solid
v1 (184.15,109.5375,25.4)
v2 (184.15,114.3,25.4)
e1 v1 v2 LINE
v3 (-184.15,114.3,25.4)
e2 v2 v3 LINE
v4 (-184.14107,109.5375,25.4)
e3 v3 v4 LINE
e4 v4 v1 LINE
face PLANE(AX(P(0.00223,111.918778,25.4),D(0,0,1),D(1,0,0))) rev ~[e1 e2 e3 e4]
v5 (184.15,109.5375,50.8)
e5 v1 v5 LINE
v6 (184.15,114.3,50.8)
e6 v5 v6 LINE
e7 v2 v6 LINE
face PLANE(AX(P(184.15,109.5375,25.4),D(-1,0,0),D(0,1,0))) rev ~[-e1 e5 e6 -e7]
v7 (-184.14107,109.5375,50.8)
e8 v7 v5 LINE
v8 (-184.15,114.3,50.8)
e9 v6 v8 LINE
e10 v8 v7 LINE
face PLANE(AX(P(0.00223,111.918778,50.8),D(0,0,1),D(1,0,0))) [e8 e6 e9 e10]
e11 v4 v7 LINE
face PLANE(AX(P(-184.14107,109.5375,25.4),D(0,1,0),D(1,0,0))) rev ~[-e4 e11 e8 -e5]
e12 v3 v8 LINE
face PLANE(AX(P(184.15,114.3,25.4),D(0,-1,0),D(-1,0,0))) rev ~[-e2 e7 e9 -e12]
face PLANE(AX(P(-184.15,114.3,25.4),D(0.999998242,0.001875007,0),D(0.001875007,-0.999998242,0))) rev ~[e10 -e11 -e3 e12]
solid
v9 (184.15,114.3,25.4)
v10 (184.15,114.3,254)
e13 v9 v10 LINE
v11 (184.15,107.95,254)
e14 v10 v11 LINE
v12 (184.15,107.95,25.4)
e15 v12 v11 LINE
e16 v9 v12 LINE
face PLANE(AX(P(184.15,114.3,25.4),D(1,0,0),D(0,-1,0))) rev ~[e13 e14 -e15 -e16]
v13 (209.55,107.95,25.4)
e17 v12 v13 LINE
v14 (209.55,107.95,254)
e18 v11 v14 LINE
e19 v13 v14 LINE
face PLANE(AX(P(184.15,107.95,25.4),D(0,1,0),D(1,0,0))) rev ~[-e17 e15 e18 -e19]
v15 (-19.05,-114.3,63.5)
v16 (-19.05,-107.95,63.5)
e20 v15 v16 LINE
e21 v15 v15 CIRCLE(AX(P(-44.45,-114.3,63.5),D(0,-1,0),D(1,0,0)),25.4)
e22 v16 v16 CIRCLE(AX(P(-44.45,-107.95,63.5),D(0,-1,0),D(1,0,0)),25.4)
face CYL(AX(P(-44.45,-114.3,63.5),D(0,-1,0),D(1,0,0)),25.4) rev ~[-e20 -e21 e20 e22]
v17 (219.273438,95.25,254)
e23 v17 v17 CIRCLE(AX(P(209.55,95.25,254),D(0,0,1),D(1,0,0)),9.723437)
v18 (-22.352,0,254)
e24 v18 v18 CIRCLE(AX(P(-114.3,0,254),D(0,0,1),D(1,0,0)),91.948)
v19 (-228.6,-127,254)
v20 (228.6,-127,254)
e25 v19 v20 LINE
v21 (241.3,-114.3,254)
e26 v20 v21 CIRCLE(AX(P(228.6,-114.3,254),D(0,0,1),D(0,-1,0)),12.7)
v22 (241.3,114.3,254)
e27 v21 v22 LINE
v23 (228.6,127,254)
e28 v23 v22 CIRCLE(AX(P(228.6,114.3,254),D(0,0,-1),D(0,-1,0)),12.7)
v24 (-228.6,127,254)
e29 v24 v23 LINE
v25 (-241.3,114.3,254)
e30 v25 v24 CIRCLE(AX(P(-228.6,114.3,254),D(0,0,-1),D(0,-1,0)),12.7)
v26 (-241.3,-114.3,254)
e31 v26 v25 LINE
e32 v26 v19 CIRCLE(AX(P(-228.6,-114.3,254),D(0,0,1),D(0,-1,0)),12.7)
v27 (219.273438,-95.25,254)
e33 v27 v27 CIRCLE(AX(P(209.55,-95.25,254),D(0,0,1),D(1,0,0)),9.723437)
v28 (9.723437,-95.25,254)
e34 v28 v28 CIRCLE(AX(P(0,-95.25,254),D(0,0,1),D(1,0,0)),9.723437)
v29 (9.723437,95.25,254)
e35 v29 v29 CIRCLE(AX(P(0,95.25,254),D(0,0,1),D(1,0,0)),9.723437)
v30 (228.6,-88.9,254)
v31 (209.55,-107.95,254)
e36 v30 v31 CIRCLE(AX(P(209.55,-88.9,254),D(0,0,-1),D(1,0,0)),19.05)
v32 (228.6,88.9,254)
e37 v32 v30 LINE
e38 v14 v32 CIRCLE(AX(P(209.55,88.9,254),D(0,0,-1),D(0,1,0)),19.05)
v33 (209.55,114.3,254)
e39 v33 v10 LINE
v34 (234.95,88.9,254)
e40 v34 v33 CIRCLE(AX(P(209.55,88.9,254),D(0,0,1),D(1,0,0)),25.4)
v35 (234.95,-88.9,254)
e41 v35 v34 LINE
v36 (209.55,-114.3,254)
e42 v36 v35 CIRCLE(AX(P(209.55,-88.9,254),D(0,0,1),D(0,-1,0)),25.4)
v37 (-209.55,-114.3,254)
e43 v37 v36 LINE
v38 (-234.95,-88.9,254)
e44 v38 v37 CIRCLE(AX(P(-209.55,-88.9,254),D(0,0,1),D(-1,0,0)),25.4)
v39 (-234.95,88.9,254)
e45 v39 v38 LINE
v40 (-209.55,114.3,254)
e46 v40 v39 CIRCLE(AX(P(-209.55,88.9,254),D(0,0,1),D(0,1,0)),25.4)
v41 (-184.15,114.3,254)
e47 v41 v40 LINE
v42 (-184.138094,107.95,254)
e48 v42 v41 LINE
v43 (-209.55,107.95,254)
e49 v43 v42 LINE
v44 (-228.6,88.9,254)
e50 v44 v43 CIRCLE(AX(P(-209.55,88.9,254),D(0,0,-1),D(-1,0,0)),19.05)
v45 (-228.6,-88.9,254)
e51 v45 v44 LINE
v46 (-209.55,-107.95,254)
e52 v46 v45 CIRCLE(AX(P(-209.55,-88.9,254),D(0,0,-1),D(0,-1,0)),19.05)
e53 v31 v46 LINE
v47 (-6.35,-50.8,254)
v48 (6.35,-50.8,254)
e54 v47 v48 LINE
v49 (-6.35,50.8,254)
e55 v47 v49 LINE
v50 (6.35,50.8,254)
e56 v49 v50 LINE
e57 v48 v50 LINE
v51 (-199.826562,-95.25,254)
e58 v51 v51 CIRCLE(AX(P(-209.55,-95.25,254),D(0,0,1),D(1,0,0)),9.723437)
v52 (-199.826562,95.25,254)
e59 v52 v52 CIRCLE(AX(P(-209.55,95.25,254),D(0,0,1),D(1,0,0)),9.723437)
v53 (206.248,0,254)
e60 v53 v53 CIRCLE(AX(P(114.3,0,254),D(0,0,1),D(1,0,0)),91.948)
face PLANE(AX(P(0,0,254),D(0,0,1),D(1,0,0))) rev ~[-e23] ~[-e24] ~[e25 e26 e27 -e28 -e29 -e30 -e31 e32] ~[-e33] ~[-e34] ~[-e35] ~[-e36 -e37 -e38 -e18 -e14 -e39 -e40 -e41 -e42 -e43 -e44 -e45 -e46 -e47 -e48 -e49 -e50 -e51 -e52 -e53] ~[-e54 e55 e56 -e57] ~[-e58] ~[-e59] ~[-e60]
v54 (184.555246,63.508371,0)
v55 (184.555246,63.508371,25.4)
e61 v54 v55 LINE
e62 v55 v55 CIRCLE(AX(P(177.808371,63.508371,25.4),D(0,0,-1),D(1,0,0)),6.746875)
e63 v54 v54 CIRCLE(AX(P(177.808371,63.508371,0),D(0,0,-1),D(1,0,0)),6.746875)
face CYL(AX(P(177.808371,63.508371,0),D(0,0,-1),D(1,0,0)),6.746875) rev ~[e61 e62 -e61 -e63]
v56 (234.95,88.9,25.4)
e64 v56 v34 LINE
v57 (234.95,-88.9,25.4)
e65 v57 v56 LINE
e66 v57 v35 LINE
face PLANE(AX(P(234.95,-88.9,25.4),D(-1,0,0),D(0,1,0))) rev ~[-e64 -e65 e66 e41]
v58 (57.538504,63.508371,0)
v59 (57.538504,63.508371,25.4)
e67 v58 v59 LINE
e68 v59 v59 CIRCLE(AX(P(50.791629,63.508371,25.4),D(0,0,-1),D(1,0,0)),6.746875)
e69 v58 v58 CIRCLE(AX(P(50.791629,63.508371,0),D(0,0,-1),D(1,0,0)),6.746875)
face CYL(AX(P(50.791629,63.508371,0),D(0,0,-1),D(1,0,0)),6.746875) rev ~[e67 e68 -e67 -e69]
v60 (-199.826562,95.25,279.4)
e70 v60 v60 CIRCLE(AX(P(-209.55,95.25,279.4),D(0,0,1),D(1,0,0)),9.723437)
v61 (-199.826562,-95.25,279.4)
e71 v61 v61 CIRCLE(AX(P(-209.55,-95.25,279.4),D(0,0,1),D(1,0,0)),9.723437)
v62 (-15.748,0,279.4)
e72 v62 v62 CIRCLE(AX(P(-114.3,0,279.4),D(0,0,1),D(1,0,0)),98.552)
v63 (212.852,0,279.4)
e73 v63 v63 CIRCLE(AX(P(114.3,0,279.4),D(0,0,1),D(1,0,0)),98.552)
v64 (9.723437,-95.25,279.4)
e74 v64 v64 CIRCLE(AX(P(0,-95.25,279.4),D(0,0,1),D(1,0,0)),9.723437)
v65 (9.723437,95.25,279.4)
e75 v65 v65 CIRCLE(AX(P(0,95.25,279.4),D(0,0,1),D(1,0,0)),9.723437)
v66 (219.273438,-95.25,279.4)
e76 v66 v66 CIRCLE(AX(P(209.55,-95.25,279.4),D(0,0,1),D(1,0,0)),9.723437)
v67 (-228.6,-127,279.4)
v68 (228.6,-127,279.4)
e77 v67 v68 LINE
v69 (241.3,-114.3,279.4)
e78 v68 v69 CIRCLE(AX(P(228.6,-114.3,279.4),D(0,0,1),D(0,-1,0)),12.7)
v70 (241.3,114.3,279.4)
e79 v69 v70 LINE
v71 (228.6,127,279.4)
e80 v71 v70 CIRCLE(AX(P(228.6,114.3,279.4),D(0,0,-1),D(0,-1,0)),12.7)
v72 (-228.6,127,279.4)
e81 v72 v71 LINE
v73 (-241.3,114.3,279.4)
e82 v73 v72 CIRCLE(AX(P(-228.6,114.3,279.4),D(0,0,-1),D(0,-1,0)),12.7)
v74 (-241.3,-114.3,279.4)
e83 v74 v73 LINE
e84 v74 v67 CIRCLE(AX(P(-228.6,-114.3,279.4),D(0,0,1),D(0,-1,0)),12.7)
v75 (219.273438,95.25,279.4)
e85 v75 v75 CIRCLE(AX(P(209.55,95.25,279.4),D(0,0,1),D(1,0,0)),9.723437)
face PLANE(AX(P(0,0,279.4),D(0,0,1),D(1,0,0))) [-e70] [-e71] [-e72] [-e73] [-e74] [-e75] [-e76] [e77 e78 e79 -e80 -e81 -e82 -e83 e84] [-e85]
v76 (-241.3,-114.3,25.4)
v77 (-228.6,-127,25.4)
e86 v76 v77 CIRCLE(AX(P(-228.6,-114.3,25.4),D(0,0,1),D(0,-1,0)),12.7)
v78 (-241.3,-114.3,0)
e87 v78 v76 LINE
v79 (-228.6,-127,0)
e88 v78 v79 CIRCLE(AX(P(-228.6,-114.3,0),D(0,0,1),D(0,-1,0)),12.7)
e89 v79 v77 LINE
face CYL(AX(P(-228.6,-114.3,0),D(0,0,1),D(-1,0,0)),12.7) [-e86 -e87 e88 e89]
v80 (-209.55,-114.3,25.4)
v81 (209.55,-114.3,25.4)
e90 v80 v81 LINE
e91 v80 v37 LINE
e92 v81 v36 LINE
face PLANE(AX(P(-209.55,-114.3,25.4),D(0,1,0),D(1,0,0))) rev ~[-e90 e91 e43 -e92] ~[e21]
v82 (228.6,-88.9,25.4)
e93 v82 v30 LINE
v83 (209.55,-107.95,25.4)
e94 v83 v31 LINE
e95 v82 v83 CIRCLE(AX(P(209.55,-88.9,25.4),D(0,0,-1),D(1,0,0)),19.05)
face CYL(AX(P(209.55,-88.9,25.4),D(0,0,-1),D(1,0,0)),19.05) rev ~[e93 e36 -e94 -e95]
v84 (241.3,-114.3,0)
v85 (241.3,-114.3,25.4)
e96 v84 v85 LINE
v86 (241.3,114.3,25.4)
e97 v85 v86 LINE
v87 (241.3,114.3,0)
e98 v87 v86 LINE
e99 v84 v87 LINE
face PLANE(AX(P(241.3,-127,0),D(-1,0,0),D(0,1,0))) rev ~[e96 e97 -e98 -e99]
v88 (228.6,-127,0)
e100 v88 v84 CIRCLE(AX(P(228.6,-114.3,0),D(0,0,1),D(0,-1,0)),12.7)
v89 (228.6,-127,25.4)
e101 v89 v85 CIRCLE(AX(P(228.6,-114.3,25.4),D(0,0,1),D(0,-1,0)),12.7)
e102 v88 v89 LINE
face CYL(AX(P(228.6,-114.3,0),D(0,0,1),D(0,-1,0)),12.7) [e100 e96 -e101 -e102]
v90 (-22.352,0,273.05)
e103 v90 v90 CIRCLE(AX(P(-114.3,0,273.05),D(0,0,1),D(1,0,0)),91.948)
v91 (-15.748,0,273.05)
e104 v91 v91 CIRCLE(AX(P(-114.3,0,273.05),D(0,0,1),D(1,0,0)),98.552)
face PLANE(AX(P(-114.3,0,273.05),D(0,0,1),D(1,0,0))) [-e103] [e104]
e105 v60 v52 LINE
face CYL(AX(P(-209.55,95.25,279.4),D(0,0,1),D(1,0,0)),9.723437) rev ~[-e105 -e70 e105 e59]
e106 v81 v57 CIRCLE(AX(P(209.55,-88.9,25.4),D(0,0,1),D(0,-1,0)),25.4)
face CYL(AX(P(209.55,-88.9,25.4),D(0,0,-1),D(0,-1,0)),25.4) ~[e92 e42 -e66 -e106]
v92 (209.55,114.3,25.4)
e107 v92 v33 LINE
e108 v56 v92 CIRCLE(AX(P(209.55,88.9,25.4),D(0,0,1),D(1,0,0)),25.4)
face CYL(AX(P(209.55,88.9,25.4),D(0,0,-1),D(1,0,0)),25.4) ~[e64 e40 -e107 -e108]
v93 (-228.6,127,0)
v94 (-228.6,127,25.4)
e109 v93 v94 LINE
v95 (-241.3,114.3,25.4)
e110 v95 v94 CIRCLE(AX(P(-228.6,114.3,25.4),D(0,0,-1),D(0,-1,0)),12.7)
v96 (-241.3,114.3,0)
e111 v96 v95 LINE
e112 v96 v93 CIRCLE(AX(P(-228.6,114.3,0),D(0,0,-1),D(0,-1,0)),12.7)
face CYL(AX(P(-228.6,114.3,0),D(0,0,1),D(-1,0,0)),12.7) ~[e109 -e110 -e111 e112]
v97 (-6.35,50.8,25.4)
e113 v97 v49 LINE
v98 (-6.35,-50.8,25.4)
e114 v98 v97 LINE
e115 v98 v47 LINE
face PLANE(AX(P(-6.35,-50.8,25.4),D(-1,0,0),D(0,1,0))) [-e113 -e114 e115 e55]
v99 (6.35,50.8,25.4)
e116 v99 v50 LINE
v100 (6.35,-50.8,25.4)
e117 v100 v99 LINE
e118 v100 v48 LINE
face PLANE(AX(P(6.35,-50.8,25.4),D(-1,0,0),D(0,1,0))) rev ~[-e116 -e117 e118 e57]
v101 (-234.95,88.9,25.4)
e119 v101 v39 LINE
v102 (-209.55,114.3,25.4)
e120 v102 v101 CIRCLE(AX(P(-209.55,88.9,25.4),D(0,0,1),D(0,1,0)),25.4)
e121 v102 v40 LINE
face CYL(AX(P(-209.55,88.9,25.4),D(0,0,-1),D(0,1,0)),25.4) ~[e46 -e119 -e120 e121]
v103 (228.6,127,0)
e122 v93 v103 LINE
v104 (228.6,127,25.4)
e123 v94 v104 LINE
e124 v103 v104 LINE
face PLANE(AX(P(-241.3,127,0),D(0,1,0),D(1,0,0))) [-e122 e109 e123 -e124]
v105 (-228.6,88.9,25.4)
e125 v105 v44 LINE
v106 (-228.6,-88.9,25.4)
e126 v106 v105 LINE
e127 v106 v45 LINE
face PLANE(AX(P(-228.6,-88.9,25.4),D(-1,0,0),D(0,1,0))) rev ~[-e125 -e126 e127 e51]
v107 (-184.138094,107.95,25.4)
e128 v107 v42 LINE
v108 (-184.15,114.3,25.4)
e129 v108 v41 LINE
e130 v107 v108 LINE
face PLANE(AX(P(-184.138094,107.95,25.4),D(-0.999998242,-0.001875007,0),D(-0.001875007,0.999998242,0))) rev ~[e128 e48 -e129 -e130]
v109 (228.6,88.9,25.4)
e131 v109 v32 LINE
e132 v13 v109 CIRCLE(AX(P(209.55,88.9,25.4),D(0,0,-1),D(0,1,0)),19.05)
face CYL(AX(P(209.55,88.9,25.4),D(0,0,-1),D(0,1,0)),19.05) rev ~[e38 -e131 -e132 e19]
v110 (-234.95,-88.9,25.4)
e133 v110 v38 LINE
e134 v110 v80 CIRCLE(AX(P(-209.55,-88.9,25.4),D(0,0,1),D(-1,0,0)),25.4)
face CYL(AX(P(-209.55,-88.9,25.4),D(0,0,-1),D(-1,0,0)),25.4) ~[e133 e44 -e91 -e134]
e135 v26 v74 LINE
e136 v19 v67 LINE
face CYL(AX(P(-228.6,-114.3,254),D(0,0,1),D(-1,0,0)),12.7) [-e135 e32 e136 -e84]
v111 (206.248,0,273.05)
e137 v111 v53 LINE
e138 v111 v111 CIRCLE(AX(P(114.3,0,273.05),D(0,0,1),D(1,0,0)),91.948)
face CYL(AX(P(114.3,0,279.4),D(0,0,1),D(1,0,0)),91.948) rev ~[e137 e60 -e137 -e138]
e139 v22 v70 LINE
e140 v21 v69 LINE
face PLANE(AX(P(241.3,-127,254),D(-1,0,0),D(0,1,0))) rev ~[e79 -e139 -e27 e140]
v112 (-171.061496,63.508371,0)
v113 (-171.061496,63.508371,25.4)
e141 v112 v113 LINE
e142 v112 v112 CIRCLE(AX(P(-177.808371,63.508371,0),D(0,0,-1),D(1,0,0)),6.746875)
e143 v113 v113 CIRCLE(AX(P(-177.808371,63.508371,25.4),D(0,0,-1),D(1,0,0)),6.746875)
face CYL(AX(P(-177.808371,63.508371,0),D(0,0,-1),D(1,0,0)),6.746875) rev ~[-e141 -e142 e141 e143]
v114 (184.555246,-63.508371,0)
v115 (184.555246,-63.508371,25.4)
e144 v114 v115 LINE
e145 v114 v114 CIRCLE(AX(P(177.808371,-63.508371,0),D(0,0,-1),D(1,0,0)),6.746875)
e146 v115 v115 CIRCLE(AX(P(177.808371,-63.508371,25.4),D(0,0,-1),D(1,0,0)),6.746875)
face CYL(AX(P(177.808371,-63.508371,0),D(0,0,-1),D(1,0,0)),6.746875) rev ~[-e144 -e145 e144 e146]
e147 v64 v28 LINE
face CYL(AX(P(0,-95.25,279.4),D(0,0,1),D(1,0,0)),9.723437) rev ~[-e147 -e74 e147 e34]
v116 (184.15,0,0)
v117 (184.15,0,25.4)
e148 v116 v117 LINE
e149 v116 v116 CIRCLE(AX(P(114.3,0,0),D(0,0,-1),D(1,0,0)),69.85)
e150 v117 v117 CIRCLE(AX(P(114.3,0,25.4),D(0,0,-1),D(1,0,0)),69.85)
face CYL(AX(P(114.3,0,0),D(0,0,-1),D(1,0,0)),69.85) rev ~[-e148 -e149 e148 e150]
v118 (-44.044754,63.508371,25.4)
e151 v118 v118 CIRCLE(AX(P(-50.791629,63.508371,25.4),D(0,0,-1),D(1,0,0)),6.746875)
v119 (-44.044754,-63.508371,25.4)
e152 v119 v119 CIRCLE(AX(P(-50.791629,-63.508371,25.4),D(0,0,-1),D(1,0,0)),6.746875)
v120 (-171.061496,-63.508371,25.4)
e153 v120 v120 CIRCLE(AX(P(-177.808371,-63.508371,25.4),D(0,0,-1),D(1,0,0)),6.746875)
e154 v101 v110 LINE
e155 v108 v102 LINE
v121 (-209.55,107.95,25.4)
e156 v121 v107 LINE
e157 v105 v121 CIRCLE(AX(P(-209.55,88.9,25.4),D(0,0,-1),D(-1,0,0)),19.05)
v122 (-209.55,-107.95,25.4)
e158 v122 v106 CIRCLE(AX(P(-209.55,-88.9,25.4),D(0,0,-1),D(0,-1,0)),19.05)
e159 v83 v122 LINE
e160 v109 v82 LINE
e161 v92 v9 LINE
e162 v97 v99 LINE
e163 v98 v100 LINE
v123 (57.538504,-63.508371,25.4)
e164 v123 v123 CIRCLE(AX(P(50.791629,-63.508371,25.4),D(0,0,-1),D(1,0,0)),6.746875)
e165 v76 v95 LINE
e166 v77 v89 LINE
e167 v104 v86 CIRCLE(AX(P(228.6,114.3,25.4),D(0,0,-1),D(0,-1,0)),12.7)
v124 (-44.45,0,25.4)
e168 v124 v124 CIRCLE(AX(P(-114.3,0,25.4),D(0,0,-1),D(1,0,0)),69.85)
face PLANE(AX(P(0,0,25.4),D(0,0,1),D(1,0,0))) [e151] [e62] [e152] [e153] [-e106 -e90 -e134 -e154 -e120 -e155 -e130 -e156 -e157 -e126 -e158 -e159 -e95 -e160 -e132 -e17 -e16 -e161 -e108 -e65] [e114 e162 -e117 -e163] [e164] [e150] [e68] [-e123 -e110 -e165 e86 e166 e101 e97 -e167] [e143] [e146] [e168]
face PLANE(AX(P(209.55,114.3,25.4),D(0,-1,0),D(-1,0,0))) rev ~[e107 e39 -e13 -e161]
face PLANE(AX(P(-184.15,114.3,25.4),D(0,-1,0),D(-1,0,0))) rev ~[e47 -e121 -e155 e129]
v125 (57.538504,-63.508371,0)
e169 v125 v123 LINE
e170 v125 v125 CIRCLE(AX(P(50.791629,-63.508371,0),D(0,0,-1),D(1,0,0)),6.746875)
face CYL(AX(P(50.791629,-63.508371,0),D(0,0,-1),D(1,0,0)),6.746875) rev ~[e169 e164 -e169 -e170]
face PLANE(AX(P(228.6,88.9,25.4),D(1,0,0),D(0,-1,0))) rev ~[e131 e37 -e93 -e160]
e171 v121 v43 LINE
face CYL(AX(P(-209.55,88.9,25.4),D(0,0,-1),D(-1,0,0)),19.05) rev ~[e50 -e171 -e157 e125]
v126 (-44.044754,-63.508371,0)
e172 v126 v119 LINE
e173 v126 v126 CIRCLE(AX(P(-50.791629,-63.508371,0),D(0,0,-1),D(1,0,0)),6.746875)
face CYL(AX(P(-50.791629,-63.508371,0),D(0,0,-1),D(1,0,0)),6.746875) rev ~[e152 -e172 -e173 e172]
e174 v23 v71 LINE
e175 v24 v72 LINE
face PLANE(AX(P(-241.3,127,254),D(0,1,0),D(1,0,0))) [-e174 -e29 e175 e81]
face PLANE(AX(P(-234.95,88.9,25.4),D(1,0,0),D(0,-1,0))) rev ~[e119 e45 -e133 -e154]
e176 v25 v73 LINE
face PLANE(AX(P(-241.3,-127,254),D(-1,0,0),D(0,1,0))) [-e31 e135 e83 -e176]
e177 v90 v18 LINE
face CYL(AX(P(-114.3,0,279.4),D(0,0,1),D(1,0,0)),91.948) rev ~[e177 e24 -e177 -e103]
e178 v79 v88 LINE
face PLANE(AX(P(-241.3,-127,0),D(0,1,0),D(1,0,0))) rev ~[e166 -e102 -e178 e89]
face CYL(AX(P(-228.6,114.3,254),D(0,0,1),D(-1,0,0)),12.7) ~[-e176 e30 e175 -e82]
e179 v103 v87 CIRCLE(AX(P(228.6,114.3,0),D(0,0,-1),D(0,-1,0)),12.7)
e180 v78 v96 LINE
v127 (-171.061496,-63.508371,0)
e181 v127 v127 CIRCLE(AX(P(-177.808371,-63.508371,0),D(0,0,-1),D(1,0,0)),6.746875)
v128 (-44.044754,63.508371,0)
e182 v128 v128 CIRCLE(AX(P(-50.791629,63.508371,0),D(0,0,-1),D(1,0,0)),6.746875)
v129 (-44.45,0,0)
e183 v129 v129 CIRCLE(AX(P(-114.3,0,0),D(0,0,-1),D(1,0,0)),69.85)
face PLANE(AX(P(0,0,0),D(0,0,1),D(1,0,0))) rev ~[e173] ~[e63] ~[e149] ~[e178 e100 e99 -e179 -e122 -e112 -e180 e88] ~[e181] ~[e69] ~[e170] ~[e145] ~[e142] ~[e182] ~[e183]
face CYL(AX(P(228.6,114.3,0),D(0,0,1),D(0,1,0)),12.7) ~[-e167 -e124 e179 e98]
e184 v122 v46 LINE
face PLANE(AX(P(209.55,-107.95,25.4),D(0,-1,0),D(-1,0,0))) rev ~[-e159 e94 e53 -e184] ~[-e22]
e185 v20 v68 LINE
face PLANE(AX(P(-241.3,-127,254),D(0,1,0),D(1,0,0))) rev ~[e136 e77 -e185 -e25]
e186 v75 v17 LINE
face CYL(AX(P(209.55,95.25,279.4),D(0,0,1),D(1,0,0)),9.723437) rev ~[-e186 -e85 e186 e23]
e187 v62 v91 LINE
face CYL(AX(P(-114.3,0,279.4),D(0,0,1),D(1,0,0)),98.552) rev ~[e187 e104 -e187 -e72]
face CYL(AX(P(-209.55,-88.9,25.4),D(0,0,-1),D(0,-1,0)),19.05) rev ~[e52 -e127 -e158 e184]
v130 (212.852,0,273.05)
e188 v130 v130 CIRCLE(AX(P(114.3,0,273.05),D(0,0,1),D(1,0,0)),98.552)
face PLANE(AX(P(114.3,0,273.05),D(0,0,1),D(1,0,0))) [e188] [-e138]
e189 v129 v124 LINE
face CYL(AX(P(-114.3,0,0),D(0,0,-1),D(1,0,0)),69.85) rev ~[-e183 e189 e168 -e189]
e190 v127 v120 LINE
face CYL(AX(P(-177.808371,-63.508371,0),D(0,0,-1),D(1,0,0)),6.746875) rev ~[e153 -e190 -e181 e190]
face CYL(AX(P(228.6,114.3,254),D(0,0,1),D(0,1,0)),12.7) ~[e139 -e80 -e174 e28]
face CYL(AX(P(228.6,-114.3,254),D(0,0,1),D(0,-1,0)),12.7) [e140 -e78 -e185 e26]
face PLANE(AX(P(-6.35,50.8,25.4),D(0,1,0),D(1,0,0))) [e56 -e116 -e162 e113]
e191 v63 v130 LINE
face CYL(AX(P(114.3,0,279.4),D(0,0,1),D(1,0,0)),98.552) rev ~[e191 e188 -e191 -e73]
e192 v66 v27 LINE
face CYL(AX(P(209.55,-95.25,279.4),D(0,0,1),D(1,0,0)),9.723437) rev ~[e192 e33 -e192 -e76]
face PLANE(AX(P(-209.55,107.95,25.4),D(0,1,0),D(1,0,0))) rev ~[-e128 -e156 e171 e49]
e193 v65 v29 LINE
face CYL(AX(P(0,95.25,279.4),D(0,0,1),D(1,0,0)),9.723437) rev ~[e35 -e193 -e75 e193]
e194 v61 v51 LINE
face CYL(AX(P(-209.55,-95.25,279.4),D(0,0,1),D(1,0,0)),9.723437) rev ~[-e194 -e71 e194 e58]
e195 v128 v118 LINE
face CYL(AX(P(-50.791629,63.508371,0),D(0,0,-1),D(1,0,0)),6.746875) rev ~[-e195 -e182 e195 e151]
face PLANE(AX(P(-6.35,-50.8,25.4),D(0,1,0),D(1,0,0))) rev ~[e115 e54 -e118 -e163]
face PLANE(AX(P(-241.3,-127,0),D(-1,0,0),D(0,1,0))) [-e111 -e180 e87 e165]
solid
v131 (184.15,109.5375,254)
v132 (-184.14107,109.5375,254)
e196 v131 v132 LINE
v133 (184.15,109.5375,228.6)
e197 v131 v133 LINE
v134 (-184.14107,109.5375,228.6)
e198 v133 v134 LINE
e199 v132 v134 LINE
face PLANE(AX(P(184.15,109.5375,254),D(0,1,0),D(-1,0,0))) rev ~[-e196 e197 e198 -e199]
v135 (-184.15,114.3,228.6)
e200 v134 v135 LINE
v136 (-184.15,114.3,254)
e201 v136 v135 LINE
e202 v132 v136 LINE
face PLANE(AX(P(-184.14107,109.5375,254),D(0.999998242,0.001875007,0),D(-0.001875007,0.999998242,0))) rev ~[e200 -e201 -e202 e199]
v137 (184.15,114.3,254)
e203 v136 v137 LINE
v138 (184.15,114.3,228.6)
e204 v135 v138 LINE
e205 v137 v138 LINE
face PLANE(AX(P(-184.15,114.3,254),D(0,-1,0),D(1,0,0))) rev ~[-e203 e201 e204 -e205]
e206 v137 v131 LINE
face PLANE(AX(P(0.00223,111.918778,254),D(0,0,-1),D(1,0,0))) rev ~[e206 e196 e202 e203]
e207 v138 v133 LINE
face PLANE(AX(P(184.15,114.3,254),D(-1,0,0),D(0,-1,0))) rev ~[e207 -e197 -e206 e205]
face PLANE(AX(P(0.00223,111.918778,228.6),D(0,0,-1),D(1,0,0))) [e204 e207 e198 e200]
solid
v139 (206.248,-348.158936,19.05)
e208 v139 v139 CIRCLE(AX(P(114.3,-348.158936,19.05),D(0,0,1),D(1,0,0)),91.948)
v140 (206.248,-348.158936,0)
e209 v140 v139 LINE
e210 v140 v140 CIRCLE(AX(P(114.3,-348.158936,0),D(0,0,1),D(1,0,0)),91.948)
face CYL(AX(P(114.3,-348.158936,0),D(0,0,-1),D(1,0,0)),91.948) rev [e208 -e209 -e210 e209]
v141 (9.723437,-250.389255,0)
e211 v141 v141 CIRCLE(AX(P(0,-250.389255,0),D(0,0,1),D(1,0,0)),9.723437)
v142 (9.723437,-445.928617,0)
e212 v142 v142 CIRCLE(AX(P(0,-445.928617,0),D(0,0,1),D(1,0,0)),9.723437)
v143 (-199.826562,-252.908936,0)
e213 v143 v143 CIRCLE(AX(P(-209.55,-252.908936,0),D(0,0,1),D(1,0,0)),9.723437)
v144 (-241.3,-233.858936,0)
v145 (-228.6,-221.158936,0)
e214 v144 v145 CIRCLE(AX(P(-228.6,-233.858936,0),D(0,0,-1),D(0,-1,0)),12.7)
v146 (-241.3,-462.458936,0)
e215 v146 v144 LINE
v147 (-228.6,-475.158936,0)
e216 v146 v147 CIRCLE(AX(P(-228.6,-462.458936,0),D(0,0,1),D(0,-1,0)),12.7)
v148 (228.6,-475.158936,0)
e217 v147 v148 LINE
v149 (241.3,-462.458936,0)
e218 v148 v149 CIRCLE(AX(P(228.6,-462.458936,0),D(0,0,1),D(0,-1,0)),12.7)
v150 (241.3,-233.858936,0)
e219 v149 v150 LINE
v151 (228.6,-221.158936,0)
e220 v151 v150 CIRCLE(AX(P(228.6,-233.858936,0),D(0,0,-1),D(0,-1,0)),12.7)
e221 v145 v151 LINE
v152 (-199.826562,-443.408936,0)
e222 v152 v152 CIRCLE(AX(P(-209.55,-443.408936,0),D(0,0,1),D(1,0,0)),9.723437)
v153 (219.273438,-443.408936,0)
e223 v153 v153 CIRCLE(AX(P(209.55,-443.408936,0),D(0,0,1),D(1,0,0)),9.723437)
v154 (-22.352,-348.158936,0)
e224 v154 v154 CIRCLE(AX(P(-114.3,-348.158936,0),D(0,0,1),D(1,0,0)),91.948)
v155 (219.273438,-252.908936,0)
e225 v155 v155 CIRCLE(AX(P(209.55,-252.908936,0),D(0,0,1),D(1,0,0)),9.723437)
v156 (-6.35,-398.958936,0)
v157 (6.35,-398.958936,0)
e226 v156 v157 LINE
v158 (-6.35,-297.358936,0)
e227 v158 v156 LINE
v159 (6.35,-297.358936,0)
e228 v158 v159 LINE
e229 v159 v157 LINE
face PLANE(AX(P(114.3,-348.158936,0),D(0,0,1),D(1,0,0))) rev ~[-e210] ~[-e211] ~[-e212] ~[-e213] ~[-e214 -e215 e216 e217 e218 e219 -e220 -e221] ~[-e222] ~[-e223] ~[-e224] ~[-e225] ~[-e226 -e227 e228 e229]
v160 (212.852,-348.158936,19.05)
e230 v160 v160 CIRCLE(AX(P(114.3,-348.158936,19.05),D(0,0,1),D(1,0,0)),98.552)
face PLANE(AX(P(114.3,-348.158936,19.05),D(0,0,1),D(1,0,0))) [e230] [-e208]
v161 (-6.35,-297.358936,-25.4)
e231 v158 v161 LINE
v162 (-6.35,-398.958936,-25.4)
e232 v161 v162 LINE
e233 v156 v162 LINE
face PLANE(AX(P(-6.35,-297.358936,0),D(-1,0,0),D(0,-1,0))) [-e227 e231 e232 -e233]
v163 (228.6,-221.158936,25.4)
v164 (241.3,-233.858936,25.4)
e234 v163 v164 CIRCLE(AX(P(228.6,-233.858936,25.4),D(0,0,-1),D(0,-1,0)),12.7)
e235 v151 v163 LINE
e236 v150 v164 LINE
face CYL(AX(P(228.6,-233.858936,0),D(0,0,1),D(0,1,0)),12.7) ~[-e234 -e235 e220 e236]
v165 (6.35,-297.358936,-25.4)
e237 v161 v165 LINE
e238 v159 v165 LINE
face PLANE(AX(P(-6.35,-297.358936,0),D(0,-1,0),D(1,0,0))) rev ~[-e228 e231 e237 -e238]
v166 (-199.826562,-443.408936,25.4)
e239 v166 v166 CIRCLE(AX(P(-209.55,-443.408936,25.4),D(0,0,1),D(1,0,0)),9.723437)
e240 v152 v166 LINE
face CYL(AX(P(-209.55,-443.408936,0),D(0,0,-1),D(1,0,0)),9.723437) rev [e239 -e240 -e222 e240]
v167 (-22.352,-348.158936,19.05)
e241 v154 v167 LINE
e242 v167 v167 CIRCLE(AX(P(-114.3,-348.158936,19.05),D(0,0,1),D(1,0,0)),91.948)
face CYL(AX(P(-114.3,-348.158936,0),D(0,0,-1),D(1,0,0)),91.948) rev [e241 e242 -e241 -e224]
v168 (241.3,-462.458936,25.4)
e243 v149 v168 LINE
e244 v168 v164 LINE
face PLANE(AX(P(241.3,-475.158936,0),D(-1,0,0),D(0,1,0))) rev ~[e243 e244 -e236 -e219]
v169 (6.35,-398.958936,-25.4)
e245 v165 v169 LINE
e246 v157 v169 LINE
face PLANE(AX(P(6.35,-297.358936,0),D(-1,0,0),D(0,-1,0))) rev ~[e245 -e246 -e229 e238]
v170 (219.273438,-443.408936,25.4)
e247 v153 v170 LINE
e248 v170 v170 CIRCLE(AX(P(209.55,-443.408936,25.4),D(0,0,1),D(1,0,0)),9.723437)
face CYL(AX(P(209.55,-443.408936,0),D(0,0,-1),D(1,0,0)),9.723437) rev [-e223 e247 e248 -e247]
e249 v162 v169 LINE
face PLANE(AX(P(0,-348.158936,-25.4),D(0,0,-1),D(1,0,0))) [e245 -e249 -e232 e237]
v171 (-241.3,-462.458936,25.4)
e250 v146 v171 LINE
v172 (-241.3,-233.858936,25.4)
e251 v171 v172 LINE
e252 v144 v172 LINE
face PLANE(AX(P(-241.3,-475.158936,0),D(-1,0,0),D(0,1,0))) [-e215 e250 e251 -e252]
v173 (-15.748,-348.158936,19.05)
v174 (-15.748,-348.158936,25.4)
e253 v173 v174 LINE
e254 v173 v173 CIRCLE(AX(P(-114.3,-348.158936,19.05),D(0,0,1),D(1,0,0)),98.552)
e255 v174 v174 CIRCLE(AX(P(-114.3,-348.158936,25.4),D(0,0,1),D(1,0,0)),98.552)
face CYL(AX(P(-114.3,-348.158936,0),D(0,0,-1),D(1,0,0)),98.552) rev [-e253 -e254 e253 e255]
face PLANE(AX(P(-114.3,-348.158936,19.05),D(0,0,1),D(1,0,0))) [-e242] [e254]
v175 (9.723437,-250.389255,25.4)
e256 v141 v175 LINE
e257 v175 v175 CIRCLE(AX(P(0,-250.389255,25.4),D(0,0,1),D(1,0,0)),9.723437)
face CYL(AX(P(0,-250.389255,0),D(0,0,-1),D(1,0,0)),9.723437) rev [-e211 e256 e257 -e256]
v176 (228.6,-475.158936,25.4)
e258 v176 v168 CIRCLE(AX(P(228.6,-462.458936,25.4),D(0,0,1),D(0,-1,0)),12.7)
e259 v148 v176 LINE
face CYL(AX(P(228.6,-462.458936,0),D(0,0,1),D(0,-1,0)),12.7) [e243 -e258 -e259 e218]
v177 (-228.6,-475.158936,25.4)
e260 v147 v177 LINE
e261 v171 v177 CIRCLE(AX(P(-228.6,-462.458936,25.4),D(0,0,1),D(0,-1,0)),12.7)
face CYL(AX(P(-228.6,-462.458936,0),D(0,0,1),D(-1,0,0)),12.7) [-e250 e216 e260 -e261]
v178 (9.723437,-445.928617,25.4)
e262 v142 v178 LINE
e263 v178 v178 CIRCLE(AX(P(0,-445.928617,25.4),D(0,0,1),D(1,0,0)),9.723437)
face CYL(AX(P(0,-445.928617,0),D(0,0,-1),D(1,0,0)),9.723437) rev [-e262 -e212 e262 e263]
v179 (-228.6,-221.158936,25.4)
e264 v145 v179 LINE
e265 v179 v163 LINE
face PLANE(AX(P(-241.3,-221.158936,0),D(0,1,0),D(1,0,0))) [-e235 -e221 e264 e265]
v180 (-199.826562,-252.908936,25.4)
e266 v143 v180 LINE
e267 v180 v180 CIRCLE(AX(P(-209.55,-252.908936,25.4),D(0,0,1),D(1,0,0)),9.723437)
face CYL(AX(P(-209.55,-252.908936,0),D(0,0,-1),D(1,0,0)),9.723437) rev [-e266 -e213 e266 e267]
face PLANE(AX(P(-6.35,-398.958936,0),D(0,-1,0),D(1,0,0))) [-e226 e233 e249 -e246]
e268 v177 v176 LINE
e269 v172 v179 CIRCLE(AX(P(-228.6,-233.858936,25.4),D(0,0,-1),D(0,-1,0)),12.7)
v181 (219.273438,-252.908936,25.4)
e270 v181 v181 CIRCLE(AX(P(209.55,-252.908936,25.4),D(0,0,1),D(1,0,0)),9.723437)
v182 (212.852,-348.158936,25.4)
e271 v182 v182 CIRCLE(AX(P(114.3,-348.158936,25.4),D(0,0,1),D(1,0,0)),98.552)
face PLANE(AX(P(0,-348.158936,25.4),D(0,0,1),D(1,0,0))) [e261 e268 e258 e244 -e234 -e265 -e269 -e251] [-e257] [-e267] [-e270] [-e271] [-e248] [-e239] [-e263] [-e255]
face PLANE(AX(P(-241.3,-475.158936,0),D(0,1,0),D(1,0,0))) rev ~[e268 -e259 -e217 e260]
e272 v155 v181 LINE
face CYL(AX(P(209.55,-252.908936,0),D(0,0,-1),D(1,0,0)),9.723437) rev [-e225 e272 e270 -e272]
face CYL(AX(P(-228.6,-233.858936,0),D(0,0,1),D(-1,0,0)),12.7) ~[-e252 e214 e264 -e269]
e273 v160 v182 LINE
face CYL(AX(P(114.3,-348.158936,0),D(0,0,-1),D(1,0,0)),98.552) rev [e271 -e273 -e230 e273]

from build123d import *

# Parameters (mm, degrees)
F0_W      = 482.6
F0_H      = 254
F1_DEPTH  = 25.4
F2_W      = 12.7
F2_H      = 101.6
F3_DEPTH  = 228.6
F4_W      = 482.6
F4_H      = 254
F5_DEPTH  = 25.4
F6_R      = 25.4
F7_DEPTH  = 6.35
F9_R      = 9.7234375
F9_R_2    = 91.948
F10_DEPTH = 25.4
F9_R_3    = 98.552
F11_DEPTH = 6.35
F12_R     = 69.85
F12_R_2   = 6.746875
F13_DEPTH = 25.4
F15_DEPTH = 25.4
F17_DEPTH = 25.4
F18_W     = 482.6
F18_H     = 254
F18_R     = 9.7234375
F18_R_2   = 98.552
F19_DEPTH = 25.4
F18_R_3   = 91.948
F20_DEPTH = 19.05
F21_W     = 12.7
F21_H     = 101.6
F22_DEPTH = 25.4
F23_R     = 12.7
F23_2_R   = 12.7


with BuildPart() as f1:
    # F0 (on Top) → F1 (new body)
    with BuildSketch(Plane.XY):
        Rectangle(F0_W, F0_H)
    extrude(amount=F1_DEPTH)

    # F2 (on face) → F3 (join)
    with BuildSketch(Plane.XY.offset(25.4)):
        with BuildLine():
            Line((-209.5499999999, -114.3), (209.5500000001, -114.3))
            ThreePointArc((209.5500000001, -114.3), (227.5105122422, -106.8605122421), (234.95, -88.9))
            Line((234.95, -88.9), (234.95, 88.9))
            ThreePointArc((234.95, 88.9), (227.5105122421, 106.8605122421), (209.55, 114.3))
            Line((209.55, 114.3), (184.1499999999, 114.3))
            Line((184.1499999999, 114.3), (184.1499999999, 107.95))
            Line((184.1499999999, 107.95), (209.5500000002, 107.95))
            ThreePointArc((209.5500000002, 107.95), (223.0203841818, 102.3703841816), (228.6000000002, 88.9))
            Line((228.6000000002, 88.9), (228.5999999998, -88.9))
            ThreePointArc((228.5999999998, -88.9), (223.0203841814, -102.3703841816), (209.5499999998, -107.95))
            Line((209.5499999998, -107.95), (-209.5500000002, -107.95))
            ThreePointArc((-209.5500000002, -107.95), (-223.0203841818, -102.3703841816), (-228.6000000002, -88.9))
            Line((-228.6000000002, -88.9), (-228.5999999998, 88.9))
            ThreePointArc((-228.5999999998, 88.9), (-223.0203841814, 102.3703841816), (-209.5499999998, 107.95))
            Line((-209.5499999998, 107.95), (-184.1380936859, 107.95))
            Line((-184.1380936859, 107.95), (-184.1500000001, 114.3))
            Line((-184.1500000001, 114.3), (-209.55, 114.3))
            ThreePointArc((-209.55, 114.3), (-227.5105122422, 106.8605122422), (-234.95, 88.9))
            Line((-234.95, 88.9), (-234.95, -88.9))
            ThreePointArc((-234.95, -88.9), (-227.5105122421, -106.8605122421), (-209.5499999999, -114.3))
        make_face()
        Rectangle(F2_W, F2_H)
    extrude(amount=F3_DEPTH)

    # F4 (on face) → F5 (join)
    with BuildSketch(Plane.XY.offset(254)):
        Rectangle(F4_W, F4_H)
    extrude(amount=F5_DEPTH)

    # F6 (on face) → F7 (cut)
    with BuildSketch(Plane.XZ.offset(114.3)):
        with Locations((-44.45, 63.5)):
            Circle(F6_R)
    extrude(amount=-F7_DEPTH, mode=Mode.SUBTRACT)

    # F9 (on face) → F10 (cut)
    with BuildSketch(Plane.XY.offset(279.4)):
        with Locations((-209.55, 95.25)):
            Circle(F9_R)
        with Locations((0, 95.25)):
            Circle(F9_R)
        with Locations((-114.3, 0)):
            Circle(F9_R_2)
        with Locations((114.3, 0)):
            Circle(F9_R_2)
        with Locations((209.55, 95.25)):
            Circle(F9_R)
        with Locations((209.55, -95.25)):
            Circle(F9_R)
        with Locations((0, -95.25)):
            Circle(F9_R)
        with Locations((-209.55, -95.25)):
            Circle(F9_R)
    extrude(amount=-F10_DEPTH, mode=Mode.SUBTRACT)

    # F9 (on face) → F11 (cut)
    with BuildSketch(Plane.XY.offset(279.4)):
        with Locations((-114.3, 0)):
            Circle(F9_R_3)
        with Locations((-114.3, 0)):
            Circle(F9_R_2, mode=Mode.SUBTRACT)
        with Locations((114.3, 0)):
            Circle(F9_R_3)
        with Locations((114.3, 0)):
            Circle(F9_R_2, mode=Mode.SUBTRACT)
    extrude(amount=-F11_DEPTH, mode=Mode.SUBTRACT)

    # F12 (on face) → F13 (cut)
    with BuildSketch(Plane(origin=(0, 0, 0), x_dir=(1, 0, 0), z_dir=(0, 0, -1))):
        with Locations((114.3, 0)):
            Circle(F12_R)
        with Locations((177.8083712882, -63.5083712882)):
            Circle(F12_R_2)
        with Locations((177.8083712882, 63.5083712882)):
            Circle(F12_R_2)
        with Locations((50.7916287118, 63.5083712882)):
            Circle(F12_R_2)
        with Locations((50.7916287118, -63.5083712882)):
            Circle(F12_R_2)
        with Locations((-50.7916287118, -63.5083712882)):
            Circle(F12_R_2)
        with Locations((-114.3, 0)):
            Circle(F12_R)
        with Locations((-50.7916287118, 63.5083712882)):
            Circle(F12_R_2)
        with Locations((-177.8083712882, 63.5083712882)):
            Circle(F12_R_2)
        with Locations((-177.8083712882, -63.5083712882)):
            Circle(F12_R_2)
    extrude(amount=-F13_DEPTH, mode=Mode.SUBTRACT)

    # F23
    f23_edges = [f1.edges().sort_by_distance(p)[0] for p in [
        (241.3, 127, 266.7),
        (241.3, -127, 266.7),
        (241.3, 127, 12.7),
        (241.3, -127, 12.7),
        (-241.3, -127, 266.7),
        (-241.3, 127, 266.7),
        (-241.3, 127, 12.7),
        (-241.3, -127, 12.7),
    ]]
    fillet(f23_edges, radius=F23_R)


with BuildPart() as f15:
    # F14 (on face) → F15 (new body)
    with BuildSketch(Plane.XY.offset(25.4)):
        Polygon((184.1499999999, 114.3), (-184.1500000001, 114.3), (-184.1410702644, 109.5375), (184.1499999999, 109.5375), align=None)
    extrude(amount=F15_DEPTH)


with BuildPart() as f17:
    # F16 (on face) → F17 (new body)
    with BuildSketch(Plane(origin=(0, 0, 254), x_dir=(1, 0, 0), z_dir=(0, 0, -1))):
        Polygon((184.1499999999, -109.5375), (-184.1410702644, -109.5375), (-184.1500000001, -114.3), (184.1499999999, -114.3), align=None)
    extrude(amount=F17_DEPTH)


with BuildPart() as f19:
    # F18 (on Top) → F19 (new body)
    with BuildSketch(Plane.XY):
        with Locations((0, -348.1589360902)):
            Rectangle(F18_W, F18_H)
        with Locations((-209.55, -443.4089360902)):
            Circle(F18_R, mode=Mode.SUBTRACT)
        with Locations((-114.3, -348.1589360902)):
            Circle(F18_R_2, mode=Mode.SUBTRACT)
        with Locations((0, -445.9286167641)):
            Circle(F18_R, mode=Mode.SUBTRACT)
        with Locations((209.55, -443.4089360902)):
            Circle(F18_R, mode=Mode.SUBTRACT)
        with Locations((114.3, -348.1589360902)):
            Circle(F18_R_2, mode=Mode.SUBTRACT)
        with Locations((-209.55, -252.9089360902)):
            Circle(F18_R, mode=Mode.SUBTRACT)
        with Locations((0, -250.3892554164)):
            Circle(F18_R, mode=Mode.SUBTRACT)
        with Locations((209.55, -252.9089360902)):
            Circle(F18_R, mode=Mode.SUBTRACT)
    extrude(amount=F19_DEPTH)

    # F18 (on Top) → F20 (join)
    with BuildSketch(Plane.XY):
        with Locations((114.3, -348.1589360902)):
            Circle(F18_R_2)
        with Locations((114.3, -348.1589360902)):
            Circle(F18_R_3, mode=Mode.SUBTRACT)
        with Locations((-114.3, -348.1589360902)):
            Circle(F18_R_2)
        with Locations((-114.3, -348.1589360902)):
            Circle(F18_R_3, mode=Mode.SUBTRACT)
    extrude(amount=F20_DEPTH)

    # F21 (on face) → F22 (join)
    with BuildSketch(Plane(origin=(0, 0, 0), x_dir=(1, 0, 0), z_dir=(0, 0, -1))):
        with Locations((0, 348.1589360902)):
            Rectangle(F21_W, F21_H)
    extrude(amount=F22_DEPTH)

    # F23#2
    f23_2_edges = [f19.edges().sort_by_distance(p)[0] for p in [
        (-241.3, -221.158936, 12.7),
        (-241.3, -475.158936, 12.7),
        (241.3, -221.158936, 12.7),
        (241.3, -475.158936, 12.7),
    ]]
    fillet(f23_2_edges, radius=F23_2_R)


solid = Compound([f1.part, f15.part, f17.part, f19.part])
